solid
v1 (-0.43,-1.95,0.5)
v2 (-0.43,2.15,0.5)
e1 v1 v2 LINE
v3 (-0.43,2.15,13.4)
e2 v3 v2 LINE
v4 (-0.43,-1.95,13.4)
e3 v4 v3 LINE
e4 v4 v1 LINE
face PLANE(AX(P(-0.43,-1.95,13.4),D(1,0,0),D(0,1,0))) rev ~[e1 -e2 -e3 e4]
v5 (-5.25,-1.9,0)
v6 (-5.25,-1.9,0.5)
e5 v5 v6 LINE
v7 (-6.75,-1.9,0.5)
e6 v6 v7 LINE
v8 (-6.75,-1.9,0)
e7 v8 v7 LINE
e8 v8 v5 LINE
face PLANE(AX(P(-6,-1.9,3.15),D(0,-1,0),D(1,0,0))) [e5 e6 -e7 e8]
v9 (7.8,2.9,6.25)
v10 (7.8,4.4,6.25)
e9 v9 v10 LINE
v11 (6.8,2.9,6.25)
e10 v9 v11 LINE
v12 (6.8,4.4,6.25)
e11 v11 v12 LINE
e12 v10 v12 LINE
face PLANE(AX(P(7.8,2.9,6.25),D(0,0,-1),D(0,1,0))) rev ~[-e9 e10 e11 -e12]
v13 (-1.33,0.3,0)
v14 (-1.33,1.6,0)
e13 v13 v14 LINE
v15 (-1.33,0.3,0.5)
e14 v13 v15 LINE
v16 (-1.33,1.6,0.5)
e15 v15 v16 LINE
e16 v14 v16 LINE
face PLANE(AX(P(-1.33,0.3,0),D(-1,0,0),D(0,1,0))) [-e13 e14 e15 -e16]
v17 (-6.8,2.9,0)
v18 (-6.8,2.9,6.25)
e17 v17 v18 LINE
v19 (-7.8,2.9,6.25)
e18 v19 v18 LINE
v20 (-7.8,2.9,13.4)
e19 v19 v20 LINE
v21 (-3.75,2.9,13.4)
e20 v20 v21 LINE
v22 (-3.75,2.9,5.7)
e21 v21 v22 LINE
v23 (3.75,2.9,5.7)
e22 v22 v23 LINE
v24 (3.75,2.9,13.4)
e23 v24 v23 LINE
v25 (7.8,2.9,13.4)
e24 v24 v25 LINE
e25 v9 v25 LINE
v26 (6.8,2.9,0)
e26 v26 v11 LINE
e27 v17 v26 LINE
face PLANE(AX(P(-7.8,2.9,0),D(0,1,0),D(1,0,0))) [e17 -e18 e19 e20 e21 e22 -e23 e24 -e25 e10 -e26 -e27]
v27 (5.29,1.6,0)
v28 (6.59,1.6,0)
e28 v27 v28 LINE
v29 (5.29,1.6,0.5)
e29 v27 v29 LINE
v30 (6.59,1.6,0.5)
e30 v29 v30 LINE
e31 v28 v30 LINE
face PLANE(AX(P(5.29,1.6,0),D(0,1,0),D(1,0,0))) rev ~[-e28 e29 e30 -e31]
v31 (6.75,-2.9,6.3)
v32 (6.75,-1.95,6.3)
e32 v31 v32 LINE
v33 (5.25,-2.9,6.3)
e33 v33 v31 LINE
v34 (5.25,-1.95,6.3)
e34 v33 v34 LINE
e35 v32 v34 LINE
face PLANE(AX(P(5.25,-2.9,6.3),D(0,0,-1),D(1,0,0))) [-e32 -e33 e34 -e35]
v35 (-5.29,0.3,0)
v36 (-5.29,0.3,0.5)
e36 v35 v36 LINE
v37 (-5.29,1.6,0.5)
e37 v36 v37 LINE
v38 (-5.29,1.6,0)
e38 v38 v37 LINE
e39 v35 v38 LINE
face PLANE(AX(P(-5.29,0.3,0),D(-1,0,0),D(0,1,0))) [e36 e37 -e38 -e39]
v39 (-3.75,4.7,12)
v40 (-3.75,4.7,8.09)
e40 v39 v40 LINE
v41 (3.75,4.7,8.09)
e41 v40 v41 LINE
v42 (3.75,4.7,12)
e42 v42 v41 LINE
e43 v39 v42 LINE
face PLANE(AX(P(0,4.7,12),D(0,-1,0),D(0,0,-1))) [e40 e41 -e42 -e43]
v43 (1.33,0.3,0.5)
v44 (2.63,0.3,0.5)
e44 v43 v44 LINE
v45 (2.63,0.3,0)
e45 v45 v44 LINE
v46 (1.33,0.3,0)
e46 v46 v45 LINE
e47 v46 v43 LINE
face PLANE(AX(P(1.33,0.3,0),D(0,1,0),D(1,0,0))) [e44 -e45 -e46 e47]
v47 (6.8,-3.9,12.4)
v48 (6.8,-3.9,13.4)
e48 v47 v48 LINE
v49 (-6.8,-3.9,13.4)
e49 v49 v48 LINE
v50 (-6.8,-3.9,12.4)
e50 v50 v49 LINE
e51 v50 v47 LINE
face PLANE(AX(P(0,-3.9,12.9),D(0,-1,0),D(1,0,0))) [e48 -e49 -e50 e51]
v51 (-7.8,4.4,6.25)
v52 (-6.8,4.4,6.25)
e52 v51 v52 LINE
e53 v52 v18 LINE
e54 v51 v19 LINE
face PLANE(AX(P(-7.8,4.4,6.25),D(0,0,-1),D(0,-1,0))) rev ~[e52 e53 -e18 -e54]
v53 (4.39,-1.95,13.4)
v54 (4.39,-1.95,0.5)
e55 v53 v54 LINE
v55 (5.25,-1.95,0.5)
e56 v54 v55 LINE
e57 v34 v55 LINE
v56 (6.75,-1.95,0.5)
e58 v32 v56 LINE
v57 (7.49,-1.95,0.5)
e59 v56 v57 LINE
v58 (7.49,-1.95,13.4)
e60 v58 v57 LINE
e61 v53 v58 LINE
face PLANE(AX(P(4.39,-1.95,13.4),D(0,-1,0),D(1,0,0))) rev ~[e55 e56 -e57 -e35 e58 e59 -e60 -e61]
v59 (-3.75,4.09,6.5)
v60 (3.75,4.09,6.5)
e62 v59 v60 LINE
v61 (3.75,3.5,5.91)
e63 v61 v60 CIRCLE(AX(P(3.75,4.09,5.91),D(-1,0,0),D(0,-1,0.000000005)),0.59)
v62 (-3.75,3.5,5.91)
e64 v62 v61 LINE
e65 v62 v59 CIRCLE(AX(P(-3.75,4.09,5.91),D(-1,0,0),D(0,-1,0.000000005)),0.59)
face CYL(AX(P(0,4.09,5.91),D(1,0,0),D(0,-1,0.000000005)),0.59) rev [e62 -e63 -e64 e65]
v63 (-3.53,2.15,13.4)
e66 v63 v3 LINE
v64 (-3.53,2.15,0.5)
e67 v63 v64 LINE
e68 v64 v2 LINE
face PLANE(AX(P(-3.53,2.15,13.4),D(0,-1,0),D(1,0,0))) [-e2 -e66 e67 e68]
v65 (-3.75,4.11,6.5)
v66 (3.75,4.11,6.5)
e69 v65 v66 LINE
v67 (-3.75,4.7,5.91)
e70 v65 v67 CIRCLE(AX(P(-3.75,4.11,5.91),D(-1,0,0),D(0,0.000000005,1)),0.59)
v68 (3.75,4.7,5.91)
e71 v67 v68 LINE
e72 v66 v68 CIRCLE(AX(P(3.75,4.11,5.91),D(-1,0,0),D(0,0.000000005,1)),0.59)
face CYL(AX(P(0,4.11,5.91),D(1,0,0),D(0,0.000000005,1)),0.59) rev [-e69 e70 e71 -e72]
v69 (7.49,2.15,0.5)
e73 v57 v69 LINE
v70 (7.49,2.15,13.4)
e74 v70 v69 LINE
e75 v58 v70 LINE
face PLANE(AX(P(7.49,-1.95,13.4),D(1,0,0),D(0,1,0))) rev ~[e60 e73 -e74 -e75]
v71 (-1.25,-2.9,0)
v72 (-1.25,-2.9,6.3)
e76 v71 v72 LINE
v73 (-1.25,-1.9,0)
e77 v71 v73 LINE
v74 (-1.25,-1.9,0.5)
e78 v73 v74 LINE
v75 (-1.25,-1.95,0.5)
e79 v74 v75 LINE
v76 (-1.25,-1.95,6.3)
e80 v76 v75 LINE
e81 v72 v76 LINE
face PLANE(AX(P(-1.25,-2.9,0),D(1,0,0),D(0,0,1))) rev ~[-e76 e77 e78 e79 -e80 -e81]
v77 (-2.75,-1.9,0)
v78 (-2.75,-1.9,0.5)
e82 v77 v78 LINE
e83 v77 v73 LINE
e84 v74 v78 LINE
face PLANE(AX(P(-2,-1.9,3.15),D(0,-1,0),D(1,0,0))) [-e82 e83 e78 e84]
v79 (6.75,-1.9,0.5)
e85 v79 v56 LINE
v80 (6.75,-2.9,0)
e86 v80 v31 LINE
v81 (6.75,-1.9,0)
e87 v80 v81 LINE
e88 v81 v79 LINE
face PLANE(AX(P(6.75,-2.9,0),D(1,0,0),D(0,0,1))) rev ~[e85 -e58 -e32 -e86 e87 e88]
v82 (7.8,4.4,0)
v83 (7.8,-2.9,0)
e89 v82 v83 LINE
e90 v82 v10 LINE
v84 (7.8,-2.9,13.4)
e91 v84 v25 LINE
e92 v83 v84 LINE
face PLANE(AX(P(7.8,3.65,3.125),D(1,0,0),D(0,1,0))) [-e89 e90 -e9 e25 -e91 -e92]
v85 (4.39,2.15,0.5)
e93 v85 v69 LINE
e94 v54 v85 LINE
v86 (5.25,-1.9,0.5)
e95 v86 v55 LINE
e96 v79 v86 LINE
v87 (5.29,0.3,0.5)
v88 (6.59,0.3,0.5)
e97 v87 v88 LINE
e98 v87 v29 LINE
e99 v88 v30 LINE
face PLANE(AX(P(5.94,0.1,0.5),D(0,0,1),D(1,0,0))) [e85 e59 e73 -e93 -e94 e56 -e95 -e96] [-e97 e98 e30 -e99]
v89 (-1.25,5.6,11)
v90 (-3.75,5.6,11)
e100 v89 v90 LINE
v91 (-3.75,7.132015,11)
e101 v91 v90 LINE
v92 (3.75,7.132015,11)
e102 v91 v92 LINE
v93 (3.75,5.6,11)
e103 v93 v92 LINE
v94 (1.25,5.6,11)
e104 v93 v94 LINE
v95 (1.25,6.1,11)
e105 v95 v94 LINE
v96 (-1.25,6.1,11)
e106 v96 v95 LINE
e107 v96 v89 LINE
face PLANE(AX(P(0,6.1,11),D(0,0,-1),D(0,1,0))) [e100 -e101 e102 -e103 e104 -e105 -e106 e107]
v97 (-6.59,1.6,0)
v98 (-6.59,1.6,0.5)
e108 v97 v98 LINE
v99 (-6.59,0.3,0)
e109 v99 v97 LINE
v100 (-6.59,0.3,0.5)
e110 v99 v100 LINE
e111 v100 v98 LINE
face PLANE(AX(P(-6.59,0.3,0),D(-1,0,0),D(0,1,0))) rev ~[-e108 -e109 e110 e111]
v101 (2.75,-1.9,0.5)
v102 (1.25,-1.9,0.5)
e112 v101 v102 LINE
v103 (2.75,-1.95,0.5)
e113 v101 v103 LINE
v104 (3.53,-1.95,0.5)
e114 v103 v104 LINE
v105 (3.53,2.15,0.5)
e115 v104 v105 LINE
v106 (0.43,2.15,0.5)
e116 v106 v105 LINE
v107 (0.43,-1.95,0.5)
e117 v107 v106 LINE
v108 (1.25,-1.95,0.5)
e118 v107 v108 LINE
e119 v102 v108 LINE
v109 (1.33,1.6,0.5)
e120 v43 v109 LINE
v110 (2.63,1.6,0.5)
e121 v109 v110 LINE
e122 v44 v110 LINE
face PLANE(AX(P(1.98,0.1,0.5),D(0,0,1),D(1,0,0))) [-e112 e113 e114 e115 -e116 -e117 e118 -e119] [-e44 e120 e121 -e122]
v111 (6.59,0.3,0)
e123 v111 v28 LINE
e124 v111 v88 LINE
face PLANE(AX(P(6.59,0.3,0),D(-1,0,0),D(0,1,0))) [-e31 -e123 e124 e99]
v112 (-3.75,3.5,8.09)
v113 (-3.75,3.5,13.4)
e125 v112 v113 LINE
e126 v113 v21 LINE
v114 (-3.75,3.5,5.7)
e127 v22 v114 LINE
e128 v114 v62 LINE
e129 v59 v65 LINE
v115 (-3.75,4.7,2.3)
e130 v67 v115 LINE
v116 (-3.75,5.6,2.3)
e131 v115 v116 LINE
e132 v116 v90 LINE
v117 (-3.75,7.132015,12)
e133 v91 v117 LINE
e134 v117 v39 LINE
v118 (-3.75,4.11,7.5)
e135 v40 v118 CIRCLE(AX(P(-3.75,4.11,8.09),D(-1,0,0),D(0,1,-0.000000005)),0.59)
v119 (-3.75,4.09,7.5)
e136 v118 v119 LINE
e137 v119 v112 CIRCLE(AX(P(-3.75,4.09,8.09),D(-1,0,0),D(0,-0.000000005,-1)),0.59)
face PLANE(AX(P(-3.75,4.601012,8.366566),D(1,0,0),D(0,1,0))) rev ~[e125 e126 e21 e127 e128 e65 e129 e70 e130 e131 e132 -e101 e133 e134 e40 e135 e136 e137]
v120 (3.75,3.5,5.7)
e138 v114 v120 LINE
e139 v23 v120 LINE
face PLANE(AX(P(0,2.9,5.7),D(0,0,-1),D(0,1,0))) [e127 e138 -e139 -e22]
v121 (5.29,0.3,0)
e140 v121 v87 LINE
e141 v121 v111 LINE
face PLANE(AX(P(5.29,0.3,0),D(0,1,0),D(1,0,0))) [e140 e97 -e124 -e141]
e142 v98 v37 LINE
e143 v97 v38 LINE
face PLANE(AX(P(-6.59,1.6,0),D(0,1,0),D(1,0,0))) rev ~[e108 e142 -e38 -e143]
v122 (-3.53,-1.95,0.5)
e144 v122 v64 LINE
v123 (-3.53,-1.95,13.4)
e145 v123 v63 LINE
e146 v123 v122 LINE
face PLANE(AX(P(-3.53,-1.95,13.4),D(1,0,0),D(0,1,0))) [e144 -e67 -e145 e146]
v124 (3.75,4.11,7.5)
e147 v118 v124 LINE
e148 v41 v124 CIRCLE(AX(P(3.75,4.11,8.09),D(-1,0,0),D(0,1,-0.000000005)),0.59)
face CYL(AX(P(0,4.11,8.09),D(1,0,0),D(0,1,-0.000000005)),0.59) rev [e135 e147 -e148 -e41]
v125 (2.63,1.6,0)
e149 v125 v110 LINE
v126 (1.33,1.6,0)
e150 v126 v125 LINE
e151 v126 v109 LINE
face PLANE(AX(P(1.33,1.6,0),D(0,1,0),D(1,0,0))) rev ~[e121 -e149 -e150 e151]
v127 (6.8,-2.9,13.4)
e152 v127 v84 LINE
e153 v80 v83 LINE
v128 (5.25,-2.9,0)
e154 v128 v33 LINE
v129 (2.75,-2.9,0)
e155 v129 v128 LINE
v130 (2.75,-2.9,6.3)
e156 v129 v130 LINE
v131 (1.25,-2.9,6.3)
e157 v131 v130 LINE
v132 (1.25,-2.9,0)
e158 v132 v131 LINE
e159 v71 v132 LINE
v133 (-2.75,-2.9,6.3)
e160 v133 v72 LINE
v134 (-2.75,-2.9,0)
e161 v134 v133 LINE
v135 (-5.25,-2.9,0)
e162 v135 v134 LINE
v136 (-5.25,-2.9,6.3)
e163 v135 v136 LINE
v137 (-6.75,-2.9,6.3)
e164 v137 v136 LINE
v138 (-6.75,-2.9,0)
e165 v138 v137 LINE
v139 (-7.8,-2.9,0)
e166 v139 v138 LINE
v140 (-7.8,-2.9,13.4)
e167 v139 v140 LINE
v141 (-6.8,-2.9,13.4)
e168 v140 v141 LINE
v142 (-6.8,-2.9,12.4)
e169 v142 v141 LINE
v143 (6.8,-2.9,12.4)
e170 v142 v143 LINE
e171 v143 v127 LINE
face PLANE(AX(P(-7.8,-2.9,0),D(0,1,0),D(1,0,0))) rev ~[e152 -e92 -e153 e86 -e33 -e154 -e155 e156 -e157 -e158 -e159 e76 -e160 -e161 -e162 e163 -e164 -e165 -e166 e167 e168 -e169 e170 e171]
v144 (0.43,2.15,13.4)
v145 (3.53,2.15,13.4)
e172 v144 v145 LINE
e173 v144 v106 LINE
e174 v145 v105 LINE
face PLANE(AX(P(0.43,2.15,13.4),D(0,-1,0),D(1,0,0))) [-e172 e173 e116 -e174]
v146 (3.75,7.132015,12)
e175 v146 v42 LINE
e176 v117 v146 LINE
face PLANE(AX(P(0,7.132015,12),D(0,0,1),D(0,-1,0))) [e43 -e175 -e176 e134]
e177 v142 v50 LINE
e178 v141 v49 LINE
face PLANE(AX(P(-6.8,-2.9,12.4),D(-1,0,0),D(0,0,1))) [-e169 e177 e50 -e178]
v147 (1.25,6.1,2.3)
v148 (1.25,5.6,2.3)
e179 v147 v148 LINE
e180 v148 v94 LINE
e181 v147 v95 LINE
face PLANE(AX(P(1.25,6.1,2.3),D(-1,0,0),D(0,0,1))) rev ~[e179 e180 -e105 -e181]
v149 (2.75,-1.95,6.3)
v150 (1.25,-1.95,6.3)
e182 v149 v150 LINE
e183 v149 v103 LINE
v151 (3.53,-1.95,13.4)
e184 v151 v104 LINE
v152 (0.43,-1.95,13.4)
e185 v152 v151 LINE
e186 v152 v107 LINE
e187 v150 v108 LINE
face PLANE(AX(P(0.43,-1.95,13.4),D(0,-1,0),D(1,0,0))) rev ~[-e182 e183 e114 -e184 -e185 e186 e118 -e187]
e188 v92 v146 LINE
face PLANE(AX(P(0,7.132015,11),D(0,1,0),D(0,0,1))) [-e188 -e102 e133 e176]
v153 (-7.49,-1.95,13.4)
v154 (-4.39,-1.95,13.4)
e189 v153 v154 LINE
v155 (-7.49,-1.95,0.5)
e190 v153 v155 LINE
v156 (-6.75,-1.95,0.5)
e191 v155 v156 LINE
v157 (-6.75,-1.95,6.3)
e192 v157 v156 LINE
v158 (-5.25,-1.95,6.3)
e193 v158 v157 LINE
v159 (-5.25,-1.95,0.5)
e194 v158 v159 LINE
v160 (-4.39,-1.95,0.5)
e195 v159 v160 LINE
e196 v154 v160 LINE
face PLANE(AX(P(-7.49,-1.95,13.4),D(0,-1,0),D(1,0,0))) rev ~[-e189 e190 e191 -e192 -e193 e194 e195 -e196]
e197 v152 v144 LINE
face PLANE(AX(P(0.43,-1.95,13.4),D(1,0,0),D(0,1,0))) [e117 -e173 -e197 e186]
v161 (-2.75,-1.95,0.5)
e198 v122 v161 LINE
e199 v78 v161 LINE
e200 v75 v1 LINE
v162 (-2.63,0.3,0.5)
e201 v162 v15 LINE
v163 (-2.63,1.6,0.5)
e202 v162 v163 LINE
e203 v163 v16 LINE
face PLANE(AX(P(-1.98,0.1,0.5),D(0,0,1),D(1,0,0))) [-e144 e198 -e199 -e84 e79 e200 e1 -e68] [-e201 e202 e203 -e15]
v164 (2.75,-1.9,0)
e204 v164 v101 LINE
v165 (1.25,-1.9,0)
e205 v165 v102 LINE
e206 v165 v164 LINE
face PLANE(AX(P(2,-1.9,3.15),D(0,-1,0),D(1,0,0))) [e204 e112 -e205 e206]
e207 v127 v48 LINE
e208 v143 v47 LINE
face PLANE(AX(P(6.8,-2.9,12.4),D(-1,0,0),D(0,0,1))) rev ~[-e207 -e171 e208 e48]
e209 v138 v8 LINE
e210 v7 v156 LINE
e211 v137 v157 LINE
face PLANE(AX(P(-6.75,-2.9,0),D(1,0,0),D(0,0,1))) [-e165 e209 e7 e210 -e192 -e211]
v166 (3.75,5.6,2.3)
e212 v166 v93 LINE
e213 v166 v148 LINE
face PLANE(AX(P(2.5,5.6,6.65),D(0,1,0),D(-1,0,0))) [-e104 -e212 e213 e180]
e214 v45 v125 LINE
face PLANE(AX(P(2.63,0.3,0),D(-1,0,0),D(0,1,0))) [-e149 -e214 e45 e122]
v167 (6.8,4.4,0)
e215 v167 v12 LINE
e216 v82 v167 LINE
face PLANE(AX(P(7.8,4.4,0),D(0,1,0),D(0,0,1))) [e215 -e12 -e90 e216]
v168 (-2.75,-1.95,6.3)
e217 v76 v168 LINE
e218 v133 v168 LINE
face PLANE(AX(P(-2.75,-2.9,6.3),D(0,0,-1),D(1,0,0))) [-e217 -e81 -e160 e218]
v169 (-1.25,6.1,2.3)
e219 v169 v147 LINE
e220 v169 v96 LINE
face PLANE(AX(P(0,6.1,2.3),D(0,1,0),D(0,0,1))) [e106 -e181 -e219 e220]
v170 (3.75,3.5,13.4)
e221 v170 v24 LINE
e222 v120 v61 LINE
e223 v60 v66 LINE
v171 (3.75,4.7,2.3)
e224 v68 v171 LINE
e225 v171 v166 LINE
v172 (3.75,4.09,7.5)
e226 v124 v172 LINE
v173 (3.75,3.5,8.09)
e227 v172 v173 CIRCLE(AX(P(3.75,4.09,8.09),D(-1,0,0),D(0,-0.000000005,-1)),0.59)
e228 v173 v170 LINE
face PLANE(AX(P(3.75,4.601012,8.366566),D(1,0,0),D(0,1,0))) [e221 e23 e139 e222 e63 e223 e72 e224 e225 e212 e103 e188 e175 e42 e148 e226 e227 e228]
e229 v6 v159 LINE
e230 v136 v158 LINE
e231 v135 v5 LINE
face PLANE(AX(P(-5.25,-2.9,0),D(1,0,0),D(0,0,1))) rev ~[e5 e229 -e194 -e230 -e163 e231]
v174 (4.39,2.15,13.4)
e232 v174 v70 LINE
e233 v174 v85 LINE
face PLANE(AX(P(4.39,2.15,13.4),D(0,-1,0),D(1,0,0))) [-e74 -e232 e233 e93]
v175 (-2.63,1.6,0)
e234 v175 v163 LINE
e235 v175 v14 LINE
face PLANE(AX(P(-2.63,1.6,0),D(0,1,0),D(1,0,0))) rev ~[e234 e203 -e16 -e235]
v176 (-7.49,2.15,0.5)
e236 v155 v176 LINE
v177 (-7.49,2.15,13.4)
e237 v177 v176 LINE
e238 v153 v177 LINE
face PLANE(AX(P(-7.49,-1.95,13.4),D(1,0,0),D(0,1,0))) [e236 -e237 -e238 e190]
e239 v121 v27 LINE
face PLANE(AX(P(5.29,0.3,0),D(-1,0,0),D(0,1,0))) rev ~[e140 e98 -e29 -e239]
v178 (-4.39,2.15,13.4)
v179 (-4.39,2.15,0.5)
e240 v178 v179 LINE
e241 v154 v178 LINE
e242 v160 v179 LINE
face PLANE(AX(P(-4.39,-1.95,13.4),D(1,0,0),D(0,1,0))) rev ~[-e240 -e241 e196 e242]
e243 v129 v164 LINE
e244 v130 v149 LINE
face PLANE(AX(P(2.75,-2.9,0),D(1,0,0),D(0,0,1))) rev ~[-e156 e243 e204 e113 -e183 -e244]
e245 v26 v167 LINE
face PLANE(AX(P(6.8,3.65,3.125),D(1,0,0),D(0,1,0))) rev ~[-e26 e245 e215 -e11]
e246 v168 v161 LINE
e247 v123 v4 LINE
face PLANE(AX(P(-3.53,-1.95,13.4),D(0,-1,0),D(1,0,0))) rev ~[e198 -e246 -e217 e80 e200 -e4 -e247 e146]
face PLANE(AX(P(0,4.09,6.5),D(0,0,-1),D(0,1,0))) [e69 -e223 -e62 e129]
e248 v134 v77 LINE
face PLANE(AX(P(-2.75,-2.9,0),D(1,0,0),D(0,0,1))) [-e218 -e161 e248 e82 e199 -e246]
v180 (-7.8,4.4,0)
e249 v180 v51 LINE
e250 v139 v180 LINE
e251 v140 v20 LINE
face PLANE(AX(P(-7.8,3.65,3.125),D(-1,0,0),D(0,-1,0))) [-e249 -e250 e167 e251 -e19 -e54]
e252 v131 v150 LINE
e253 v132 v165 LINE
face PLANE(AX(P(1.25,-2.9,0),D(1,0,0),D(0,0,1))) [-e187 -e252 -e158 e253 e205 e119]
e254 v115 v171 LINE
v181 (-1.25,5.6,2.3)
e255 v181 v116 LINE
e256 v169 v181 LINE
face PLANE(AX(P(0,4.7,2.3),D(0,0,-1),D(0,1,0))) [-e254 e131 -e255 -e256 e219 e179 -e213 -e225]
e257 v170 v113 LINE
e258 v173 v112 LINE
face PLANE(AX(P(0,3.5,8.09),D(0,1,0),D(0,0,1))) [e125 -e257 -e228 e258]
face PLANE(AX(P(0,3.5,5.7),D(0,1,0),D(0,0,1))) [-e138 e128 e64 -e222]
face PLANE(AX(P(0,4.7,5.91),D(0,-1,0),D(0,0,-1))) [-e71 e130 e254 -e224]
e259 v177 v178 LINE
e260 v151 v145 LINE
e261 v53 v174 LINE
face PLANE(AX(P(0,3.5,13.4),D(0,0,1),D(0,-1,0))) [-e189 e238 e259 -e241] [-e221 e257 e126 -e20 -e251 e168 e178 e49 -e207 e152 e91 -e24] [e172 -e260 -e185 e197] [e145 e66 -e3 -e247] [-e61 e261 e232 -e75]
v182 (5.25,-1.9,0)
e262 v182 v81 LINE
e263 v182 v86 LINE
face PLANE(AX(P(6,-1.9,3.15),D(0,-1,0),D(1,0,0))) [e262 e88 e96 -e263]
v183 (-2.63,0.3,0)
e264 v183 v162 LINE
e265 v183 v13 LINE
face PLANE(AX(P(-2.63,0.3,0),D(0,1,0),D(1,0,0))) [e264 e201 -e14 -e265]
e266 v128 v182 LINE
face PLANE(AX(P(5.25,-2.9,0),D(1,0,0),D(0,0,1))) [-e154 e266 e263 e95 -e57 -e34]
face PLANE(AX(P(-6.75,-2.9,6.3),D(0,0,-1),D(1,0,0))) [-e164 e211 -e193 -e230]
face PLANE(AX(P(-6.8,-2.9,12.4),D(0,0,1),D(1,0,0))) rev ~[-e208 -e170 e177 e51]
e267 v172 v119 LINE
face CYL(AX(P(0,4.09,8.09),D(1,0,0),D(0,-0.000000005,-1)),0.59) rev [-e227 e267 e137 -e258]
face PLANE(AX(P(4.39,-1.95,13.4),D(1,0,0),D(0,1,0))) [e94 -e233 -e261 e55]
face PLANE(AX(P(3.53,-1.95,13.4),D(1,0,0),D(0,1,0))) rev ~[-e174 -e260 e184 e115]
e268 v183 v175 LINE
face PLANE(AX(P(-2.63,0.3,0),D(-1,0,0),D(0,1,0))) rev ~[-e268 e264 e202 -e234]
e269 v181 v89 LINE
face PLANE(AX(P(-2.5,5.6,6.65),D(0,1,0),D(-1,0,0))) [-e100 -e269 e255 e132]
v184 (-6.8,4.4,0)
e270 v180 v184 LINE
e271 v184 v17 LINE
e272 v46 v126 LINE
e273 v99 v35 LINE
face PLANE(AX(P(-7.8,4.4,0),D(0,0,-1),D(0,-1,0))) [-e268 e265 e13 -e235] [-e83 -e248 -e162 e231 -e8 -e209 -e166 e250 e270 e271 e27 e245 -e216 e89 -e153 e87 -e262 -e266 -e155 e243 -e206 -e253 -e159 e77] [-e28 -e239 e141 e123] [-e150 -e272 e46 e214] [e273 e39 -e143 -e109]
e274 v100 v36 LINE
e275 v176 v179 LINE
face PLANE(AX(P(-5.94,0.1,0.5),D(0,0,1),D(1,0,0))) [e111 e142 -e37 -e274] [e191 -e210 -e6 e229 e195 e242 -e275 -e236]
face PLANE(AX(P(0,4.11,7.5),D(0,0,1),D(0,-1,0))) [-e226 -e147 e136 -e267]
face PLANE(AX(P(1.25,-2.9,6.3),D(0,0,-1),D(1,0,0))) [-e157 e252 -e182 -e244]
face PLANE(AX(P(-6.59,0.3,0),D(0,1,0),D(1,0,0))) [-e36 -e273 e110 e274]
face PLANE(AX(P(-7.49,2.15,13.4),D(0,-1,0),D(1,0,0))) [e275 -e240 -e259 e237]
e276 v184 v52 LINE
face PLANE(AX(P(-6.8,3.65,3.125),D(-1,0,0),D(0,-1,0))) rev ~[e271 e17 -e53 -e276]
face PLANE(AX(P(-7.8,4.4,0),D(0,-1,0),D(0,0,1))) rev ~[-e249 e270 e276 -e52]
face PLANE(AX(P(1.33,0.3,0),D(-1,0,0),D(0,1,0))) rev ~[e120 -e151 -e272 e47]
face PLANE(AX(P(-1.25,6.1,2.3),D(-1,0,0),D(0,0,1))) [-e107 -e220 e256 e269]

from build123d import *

# Parameters (mm, degrees)
F0_W           = 15.6
F0_H           = 5.8
F1_DEPTH       = 13.4
F2_W           = 1.5
F2_H           = 6.25
F3_DEPTH       = 1
F4_W           = 1.5
F4_H           = 6.25
F5_DEPTH       = 1
F6_W           = 13.6
F6_H           = 1
F7_DEPTH       = 1
F8_W           = 1.5
F8_H           = 6.3
F9_DEPTH       = 1
F10_W          = 1.3
F10_H          = 1.3
F11_DEPTH      = 13.401
F12_W          = 3.1
F12_H          = 4.1
F12_W_2        = 1.3
F12_H_2        = 1.3
F13_DEPTH      = 12.9
F15_DEPTH      = 3.75
F15_DEPTH_BACK = 3.75
F16_W          = 2.5
F16_H          = 8.7
F17_DEPTH      = 0.5


with BuildPart() as f1:
    # F0 (on Top) → F1 (new body)
    with BuildSketch(Plane.XY):
        Rectangle(F0_W, F0_H)
    extrude(amount=F1_DEPTH)

    # F2 (on face) → F3 (join)
    with BuildSketch(Plane.YZ.offset(7.8)):
        with Locations((3.65, 3.125)):
            Rectangle(F2_W, F2_H)
    extrude(amount=-F3_DEPTH)

    # F4 (on face) → F5 (join)
    with BuildSketch(Plane(origin=(-7.8, 0, 0), x_dir=(0, -1, 0), z_dir=(-1, 0, 0))):
        with Locations((-3.65, 3.125)):
            Rectangle(F4_W, F4_H)
    extrude(amount=-F5_DEPTH)

    # F6 (on face) → F7 (join)
    with BuildSketch(Plane.XZ.offset(2.9)):
        with Locations((0, 12.9)):
            Rectangle(F6_W, F6_H)
    extrude(amount=F7_DEPTH)

    # F8 (on face) → F9 (cut)
    with BuildSketch(Plane.XZ.offset(2.9)):
        with Locations((-6, 3.15)):
            Rectangle(F8_W, F8_H)
        with Locations((-2, 3.15)):
            Rectangle(F8_W, F8_H)
        with Locations((2, 3.15)):
            Rectangle(F8_W, F8_H)
        with Locations((6, 3.15)):
            Rectangle(F8_W, F8_H)
    extrude(amount=-F9_DEPTH, mode=Mode.SUBTRACT)

    # F10 (on Top) → F11 (cut, through all)
    with BuildSketch(Plane.XY):
        with Locations((5.94, 0.95)):
            Rectangle(F10_W, F10_H)
        with Locations((1.98, 0.95)):
            Rectangle(F10_W, F10_H)
        with Locations((-1.98, 0.95)):
            Rectangle(F10_W, F10_H)
        with Locations((-5.94, 0.95)):
            Rectangle(F10_W, F10_H)
    extrude(amount=F11_DEPTH, mode=Mode.SUBTRACT)

    # F12 (on face) → F13 (cut)
    with BuildSketch(Plane.XY.offset(13.4)):
        with Locations((-5.94, 0.1)):
            Rectangle(F12_W, F12_H)
        with Locations((-5.94, 0.95)):
            Rectangle(F12_W_2, F12_H_2, mode=Mode.SUBTRACT)
        with Locations((-1.98, 0.1)):
            Rectangle(F12_W, F12_H)
        with Locations((-1.98, 0.95)):
            Rectangle(F12_W_2, F12_H_2, mode=Mode.SUBTRACT)
        with Locations((1.98, 0.1)):
            Rectangle(F12_W, F12_H)
        with Locations((1.98, 0.95)):
            Rectangle(F12_W_2, F12_H_2, mode=Mode.SUBTRACT)
        with Locations((5.94, 0.1)):
            Rectangle(F12_W, F12_H)
        with Locations((5.94, 0.95)):
            Rectangle(F12_W_2, F12_H_2, mode=Mode.SUBTRACT)
    extrude(amount=-F13_DEPTH, mode=Mode.SUBTRACT)

    # F14 (on Right) → F15 (join, two sides)
    with BuildSketch(Plane.YZ) as f15_sk:
        with BuildLine():
            Line((3.5, 13.4), (2.9, 13.4))
            Line((2.9, 13.4), (2.9, 5.7))
            Line((2.9, 5.7), (3.5, 5.7))
            Line((3.5, 5.7), (3.5, 5.91))
            ThreePointArc((3.5, 5.91), (3.672807, 6.327193), (4.09, 6.5))
            Line((4.09, 6.5), (4.11, 6.5))
            ThreePointArc((4.11, 6.5), (4.527193, 6.327193), (4.7, 5.91))
            Line((4.7, 5.91), (4.7, 2.3))
            Line((4.7, 2.3), (6.1, 2.3))
            Line((6.1, 2.3), (6.1, 11))
            Line((6.1, 11), (7.132015, 11))
            Line((7.132015, 11), (7.132015, 12))
            Line((7.132015, 12), (4.7, 12))
            Line((4.7, 12), (4.7, 8.09))
            ThreePointArc((4.7, 8.09), (4.527193, 7.672807), (4.11, 7.5))
            Line((4.11, 7.5), (4.09, 7.5))
            ThreePointArc((4.09, 7.5), (3.672807, 7.672807), (3.5, 8.09))
            Line((3.5, 8.09), (3.5, 13.4))
        make_face()
    extrude(amount=F15_DEPTH)
    extrude(f15_sk.sketch, amount=-F15_DEPTH_BACK)

    # F16 (on face) → F17 (cut)
    with BuildSketch(Plane(origin=(0, 6.1, 0), x_dir=(-1, 0, 0), z_dir=(0, 1, 0))):
        with Locations((-2.5, 6.65)):
            Rectangle(F16_W, F16_H)
        with Locations((2.5, 6.65)):
            Rectangle(F16_W, F16_H)
    extrude(amount=-F17_DEPTH, mode=Mode.SUBTRACT)


solid = f1.part
